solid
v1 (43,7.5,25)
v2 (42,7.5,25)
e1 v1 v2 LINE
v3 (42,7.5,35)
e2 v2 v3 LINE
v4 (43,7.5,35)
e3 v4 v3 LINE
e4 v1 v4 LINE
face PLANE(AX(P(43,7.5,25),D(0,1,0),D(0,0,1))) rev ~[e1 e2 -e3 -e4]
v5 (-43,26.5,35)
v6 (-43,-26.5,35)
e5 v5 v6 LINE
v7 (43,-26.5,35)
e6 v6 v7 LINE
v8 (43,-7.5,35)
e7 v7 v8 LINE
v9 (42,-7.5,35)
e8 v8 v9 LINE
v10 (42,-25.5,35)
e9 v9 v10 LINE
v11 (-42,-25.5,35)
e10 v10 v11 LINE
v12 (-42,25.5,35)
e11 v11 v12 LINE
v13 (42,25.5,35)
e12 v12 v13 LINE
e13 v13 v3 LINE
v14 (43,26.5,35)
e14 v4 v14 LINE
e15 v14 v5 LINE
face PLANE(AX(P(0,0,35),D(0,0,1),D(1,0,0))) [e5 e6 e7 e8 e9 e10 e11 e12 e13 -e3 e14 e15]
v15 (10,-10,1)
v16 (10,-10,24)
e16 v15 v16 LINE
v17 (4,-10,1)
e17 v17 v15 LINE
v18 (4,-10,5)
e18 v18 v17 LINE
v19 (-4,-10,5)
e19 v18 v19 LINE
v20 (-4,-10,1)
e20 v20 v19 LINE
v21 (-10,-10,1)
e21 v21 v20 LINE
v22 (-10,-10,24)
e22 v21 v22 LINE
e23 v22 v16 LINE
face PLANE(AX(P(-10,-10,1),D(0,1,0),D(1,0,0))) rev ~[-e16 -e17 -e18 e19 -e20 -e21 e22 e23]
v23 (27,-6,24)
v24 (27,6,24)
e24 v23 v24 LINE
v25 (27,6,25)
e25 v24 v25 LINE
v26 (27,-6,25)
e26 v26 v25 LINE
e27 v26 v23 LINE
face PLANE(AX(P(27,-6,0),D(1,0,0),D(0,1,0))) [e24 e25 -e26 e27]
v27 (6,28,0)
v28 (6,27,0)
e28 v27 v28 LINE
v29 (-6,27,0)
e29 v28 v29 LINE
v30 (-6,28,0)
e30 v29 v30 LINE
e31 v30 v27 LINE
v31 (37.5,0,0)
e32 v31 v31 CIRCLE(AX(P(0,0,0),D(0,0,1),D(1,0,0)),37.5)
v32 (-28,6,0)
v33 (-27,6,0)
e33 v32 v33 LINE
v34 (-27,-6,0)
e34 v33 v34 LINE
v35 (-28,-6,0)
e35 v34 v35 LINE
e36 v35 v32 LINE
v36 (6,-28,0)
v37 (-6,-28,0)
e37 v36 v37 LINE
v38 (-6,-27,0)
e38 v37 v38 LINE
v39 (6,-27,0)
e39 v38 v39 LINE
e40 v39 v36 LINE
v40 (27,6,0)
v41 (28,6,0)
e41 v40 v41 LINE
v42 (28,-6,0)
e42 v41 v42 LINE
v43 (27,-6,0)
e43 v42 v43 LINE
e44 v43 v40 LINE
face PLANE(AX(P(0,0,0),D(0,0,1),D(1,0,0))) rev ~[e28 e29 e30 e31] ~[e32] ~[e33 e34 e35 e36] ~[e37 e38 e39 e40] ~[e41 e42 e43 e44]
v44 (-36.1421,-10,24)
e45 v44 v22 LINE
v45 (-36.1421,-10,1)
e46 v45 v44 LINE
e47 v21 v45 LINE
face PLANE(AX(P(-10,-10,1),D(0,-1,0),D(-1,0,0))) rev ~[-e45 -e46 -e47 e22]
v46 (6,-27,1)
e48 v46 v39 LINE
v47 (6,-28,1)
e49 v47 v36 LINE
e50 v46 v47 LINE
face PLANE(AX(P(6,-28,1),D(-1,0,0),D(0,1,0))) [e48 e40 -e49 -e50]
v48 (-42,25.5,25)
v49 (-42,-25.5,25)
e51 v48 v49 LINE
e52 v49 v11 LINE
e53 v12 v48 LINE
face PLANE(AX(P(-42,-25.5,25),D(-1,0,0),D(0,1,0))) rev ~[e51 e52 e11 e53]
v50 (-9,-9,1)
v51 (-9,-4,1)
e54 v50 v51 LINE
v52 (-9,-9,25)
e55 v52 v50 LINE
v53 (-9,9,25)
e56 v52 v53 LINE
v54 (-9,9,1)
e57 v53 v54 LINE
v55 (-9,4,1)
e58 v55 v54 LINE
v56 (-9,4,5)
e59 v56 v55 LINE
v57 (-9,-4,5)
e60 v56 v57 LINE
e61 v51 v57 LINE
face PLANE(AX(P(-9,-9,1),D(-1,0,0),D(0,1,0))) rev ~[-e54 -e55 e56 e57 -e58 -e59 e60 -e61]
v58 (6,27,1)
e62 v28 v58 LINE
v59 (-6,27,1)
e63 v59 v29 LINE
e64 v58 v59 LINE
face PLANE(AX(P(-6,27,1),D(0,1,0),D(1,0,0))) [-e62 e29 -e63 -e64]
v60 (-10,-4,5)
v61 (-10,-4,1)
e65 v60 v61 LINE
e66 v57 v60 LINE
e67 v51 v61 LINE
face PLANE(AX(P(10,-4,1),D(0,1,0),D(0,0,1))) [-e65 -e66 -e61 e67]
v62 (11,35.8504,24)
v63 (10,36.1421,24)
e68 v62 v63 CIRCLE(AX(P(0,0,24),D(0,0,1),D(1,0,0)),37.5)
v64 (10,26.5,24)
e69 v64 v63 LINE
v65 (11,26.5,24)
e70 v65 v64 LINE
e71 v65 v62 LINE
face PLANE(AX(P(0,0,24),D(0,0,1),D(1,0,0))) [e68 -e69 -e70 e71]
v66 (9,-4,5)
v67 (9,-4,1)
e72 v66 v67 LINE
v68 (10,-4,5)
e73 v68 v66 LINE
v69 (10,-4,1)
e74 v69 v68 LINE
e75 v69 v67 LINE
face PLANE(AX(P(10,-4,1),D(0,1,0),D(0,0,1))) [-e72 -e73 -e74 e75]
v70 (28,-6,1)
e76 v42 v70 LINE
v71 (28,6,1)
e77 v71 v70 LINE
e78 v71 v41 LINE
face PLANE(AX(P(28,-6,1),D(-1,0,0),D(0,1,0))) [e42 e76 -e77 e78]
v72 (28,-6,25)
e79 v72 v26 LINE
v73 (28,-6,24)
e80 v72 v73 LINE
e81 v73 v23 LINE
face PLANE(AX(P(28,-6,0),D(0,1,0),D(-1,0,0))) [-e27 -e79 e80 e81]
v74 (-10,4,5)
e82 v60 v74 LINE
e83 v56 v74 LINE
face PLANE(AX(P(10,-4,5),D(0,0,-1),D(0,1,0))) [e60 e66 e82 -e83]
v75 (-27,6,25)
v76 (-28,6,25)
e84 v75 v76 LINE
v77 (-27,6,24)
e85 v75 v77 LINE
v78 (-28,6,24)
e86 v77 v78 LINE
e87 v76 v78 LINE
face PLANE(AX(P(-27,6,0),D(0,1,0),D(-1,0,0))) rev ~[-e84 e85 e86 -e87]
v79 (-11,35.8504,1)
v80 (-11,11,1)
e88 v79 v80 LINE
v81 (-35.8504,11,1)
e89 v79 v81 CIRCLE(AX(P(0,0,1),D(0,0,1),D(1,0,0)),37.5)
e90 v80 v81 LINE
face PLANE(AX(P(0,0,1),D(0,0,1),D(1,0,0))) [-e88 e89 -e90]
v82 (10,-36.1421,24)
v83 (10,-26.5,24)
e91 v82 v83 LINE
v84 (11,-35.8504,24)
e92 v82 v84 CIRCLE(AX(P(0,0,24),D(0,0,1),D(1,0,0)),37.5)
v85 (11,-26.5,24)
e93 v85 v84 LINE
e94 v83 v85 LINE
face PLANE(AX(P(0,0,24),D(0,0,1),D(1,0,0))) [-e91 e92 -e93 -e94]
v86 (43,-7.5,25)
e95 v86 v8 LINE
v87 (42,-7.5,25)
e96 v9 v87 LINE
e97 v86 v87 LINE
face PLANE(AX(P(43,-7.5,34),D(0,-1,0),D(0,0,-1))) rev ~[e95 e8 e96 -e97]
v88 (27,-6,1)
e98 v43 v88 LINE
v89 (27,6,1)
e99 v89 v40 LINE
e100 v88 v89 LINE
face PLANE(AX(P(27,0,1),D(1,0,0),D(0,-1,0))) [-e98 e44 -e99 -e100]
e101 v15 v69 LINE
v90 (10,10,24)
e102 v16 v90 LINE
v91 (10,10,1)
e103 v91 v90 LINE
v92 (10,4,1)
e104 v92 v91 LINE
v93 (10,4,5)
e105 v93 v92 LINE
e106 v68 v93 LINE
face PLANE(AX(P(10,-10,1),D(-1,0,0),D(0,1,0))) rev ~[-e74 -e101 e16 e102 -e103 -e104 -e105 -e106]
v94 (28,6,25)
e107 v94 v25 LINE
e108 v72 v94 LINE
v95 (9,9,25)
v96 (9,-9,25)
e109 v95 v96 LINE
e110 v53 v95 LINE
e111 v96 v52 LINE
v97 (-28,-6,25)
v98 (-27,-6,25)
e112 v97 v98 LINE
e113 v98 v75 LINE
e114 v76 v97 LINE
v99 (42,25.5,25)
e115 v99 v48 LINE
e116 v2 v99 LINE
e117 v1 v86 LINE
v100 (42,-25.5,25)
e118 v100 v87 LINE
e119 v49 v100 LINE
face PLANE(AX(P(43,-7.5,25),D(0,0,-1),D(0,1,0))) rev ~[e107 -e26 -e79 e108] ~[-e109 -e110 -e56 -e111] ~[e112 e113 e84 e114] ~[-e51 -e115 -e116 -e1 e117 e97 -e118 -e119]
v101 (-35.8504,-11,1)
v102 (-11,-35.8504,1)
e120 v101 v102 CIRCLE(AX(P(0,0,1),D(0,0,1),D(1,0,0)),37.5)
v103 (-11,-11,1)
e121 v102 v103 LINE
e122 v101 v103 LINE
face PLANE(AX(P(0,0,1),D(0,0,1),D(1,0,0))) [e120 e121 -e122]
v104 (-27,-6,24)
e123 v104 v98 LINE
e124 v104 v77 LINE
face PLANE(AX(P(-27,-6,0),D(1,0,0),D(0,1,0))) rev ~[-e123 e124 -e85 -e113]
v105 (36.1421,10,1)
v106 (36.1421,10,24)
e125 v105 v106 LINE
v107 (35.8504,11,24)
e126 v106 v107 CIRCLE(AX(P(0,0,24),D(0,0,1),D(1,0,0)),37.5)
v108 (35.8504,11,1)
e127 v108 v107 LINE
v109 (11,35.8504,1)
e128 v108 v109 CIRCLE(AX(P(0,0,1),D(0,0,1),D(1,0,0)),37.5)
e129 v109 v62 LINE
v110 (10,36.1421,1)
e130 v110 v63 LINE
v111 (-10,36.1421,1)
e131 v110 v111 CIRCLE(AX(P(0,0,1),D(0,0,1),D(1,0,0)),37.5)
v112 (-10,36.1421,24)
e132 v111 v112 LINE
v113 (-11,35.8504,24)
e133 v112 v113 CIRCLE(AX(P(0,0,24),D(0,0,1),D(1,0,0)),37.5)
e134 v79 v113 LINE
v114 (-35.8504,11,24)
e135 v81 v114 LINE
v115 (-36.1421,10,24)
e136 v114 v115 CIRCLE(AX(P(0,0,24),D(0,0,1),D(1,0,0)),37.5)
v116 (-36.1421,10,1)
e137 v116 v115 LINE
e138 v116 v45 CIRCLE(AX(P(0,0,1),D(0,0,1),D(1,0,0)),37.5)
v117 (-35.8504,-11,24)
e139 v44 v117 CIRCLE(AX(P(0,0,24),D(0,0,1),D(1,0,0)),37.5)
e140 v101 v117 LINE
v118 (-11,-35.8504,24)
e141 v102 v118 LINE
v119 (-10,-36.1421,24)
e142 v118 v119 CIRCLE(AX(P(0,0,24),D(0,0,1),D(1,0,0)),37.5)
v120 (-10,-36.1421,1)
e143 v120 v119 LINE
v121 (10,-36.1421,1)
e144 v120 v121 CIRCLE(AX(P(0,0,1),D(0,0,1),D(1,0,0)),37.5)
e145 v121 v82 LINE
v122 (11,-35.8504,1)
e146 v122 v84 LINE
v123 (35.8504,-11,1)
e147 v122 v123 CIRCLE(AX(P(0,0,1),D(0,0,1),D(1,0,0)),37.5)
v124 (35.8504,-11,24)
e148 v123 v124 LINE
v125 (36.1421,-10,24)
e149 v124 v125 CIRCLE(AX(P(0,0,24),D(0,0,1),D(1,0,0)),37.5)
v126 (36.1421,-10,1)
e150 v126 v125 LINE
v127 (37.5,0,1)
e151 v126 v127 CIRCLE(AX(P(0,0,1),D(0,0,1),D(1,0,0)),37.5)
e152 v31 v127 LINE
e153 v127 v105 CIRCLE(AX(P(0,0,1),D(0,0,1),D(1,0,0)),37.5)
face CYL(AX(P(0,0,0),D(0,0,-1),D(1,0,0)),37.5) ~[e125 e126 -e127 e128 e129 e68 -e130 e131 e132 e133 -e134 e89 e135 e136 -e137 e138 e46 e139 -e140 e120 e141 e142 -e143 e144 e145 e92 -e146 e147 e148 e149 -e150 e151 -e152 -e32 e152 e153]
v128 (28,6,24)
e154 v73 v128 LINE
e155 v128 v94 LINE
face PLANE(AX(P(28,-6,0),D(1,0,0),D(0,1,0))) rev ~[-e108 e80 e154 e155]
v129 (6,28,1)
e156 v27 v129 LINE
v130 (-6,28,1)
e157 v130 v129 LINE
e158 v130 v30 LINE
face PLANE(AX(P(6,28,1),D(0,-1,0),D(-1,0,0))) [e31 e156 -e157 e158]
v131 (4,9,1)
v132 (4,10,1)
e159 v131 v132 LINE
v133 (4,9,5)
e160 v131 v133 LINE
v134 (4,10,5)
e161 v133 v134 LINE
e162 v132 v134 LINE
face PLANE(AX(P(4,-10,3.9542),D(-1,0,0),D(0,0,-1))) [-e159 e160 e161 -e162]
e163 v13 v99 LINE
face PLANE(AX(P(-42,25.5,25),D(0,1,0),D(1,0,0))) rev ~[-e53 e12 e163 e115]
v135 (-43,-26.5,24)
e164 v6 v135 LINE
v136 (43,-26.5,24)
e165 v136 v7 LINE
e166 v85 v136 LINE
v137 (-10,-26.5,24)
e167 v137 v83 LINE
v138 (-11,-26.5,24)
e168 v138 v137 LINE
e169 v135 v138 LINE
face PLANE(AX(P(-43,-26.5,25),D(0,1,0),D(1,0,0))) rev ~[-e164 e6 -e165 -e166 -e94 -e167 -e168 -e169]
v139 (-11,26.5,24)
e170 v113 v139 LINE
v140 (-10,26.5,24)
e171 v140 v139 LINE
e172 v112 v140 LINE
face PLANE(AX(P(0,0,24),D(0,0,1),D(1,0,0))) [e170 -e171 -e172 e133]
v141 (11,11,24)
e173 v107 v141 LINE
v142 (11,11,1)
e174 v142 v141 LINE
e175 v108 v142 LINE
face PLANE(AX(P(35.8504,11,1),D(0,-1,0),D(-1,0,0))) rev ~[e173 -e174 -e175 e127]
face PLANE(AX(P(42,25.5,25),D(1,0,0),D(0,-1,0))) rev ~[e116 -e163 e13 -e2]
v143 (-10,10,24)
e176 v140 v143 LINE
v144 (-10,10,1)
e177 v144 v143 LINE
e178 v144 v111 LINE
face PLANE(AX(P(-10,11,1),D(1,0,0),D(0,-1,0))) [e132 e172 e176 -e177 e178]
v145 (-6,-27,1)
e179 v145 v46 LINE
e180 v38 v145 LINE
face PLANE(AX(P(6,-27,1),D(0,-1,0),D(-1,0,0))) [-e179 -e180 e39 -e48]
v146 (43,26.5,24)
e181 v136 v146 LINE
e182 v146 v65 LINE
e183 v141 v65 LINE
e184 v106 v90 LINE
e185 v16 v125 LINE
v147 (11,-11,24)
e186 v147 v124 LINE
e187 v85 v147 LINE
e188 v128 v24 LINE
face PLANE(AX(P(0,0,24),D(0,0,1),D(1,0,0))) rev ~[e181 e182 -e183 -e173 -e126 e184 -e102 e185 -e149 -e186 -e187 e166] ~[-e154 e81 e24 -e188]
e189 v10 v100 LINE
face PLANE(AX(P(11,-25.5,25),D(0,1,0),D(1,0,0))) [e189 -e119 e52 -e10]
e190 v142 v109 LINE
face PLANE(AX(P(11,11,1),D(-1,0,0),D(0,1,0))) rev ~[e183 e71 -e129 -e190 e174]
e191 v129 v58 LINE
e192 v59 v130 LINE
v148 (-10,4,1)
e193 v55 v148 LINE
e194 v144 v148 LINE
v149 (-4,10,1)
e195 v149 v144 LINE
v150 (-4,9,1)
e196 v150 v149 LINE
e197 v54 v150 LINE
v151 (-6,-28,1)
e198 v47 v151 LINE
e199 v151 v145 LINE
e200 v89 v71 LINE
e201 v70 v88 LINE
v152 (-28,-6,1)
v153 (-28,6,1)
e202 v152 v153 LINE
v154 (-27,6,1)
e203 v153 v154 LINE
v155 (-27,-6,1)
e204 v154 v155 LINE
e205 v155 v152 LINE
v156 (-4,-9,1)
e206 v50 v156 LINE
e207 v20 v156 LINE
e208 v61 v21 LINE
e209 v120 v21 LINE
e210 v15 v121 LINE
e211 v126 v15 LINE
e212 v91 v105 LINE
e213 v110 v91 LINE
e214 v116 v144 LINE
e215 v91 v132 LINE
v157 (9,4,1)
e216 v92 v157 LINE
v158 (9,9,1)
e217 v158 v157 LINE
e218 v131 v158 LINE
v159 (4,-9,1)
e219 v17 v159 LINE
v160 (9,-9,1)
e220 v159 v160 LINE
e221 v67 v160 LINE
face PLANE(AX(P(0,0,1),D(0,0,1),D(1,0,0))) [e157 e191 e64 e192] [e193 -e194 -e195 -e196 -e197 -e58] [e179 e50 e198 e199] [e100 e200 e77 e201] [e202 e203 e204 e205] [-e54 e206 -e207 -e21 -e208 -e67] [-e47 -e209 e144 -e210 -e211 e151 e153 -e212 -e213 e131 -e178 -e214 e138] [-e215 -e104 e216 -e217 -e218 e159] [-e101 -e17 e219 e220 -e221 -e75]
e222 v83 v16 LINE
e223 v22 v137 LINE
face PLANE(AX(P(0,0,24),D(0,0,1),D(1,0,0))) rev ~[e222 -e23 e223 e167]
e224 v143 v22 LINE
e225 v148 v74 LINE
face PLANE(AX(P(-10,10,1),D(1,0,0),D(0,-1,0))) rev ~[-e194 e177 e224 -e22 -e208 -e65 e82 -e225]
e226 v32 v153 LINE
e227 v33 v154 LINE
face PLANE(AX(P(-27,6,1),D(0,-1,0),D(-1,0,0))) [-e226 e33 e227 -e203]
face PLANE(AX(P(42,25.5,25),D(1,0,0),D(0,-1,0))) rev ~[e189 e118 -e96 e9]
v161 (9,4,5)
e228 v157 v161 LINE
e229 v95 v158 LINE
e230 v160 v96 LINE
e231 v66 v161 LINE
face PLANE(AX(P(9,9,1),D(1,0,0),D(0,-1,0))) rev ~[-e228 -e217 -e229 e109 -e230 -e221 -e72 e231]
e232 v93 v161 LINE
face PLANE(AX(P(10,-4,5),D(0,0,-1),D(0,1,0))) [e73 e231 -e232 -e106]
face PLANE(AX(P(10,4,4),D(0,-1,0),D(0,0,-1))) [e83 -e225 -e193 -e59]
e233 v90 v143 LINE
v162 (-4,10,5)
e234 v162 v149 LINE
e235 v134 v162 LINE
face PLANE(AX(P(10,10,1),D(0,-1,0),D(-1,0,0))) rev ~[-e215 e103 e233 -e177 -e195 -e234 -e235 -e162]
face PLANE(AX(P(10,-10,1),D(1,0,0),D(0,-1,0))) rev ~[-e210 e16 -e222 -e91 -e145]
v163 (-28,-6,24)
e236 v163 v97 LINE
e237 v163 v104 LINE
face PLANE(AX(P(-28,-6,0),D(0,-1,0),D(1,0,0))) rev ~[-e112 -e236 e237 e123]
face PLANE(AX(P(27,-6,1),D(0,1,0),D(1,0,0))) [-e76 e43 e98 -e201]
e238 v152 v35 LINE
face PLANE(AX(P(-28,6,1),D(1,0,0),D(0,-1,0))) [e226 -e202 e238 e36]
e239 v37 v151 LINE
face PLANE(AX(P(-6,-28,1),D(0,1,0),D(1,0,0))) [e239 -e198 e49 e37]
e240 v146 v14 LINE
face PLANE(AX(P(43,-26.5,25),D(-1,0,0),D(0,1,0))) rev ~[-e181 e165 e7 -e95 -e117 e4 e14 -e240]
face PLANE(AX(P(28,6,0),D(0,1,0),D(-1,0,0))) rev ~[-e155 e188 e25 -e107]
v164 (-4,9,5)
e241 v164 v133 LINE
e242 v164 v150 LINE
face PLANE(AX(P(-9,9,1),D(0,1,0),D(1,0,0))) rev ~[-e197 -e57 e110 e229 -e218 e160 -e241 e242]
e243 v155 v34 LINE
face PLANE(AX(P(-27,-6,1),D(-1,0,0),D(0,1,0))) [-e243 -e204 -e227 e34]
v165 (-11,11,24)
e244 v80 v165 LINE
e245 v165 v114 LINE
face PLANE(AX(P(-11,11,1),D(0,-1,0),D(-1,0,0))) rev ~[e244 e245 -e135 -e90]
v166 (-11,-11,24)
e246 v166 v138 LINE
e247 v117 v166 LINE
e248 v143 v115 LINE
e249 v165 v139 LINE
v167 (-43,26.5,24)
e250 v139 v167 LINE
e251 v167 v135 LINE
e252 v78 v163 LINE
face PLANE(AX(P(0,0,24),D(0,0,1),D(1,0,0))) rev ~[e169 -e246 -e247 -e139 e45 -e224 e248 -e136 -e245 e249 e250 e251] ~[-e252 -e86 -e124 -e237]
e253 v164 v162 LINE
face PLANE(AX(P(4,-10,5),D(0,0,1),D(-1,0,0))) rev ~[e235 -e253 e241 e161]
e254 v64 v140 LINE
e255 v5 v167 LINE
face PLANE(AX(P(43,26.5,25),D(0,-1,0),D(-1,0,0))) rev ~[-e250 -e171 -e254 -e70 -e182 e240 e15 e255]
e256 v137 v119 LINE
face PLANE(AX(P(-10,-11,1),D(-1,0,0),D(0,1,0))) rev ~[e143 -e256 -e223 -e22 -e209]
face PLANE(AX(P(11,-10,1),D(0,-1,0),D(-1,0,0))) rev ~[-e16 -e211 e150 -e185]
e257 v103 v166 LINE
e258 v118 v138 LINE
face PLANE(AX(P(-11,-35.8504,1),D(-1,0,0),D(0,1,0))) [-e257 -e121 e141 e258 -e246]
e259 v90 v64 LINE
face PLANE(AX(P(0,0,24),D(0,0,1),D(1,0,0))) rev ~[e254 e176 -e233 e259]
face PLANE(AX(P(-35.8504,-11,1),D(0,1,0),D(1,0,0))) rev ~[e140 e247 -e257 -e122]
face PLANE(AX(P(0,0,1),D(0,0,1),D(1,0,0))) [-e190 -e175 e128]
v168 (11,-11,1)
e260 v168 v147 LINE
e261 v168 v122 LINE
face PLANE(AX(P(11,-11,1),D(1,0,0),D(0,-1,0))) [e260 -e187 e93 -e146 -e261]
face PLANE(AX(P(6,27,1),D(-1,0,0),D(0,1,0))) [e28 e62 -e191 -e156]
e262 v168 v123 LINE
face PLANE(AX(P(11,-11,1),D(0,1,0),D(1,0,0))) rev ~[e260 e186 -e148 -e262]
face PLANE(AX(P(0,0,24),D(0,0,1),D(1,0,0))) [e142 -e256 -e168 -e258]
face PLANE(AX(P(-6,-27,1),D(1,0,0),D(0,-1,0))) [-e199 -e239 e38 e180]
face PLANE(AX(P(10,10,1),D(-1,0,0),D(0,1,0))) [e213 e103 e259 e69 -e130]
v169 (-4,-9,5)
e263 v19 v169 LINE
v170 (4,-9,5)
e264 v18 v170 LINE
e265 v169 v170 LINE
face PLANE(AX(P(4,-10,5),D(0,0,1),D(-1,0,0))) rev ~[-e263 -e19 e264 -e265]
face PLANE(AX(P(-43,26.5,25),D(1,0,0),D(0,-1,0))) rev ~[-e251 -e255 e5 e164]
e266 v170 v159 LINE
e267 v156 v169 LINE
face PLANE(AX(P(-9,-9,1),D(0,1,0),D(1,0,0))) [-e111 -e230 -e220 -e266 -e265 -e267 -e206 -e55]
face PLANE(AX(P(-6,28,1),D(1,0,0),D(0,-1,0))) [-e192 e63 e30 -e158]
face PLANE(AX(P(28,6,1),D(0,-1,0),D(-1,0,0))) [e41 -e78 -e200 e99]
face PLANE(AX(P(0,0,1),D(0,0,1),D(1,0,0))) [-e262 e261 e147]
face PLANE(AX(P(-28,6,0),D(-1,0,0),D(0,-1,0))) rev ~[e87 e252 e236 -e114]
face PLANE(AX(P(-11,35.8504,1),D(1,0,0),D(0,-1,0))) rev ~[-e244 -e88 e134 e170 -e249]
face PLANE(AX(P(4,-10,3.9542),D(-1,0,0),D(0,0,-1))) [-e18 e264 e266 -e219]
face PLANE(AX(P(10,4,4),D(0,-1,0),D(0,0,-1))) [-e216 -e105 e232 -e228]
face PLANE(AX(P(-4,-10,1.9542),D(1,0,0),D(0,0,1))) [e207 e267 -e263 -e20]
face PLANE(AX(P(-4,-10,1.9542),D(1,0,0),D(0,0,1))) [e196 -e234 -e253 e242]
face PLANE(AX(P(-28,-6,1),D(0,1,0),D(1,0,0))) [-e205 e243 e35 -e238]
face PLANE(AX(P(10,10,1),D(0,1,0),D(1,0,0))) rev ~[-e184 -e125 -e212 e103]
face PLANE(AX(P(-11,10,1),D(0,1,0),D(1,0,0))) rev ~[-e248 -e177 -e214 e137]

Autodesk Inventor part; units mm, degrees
ref_plane "YZ Plane" through (0, 0, 0) normal (1, 0, 0) x (0, 1, 0)
ref_plane "XZ Plane" through (0, 0, 0) normal (0, 1, 0) x (-1, 0, 0)
ref_plane "XY Plane" through (0, 0, 0) normal (0, 0, 1) x (1, 0, 0)
sketch "Sketch1" plane through (0, 0, 0) normal (0, 0, 1) x (1, 0, 0)
  circle A0 centre (0, 0) radius 37.5
  dimension "d0" = 75
extrude "Extrusion1" add sketch "Sketch1" along normal blind 1
sketch "Sketch2" plane through (0, 0, 1) normal (0, 0, 1) x (1, 0, 0)
  line L0 (-10, -10) -> (10, -10)
  line L1 (10, -10) -> (10, 10)
  line L2 (10, 10) -> (-10, 10)
  line L3 (-10, 10) -> (-10, -10)
  line L4 (-10, 10) -> (10, 10)
  line L5 (10, 10) -> (10, 36.1421)
  line L6 (-10, 36.1421) -> (-10, 10)
  line L7 (10, 10) -> (36.1421, 10)
  line L8 (36.1421, -10) -> (10, -10)
  line L9 (10, -10) -> (10, 10)
  line L10 (-10, -10) -> (10, -10)
  line L11 (10, -10) -> (10, -36.1421)
  line L12 (-10, -36.1421) -> (-10, -10)
  line L13 (-10, -10) -> (-36.1421, -10)
  line L14 (-36.1421, 10) -> (-10, 10)
  line L15 (-10, 10) -> (-10, -10)
  line L16 (35.8504, 11) -> (10, 11)
  line L17 (9, 9) -> (9, -9)
  line L18 (10, -11) -> (35.8504, -11)
  line L19 (11, 10) -> (11, 35.8504)
  line L20 (-11, 35.8504) -> (-11, 10)
  line L21 (-10, 11) -> (-35.8504, 11)
  line L22 (-35.8504, -11) -> (-10, -11)
  line L23 (-9, -9) -> (-9, 9)
  line L24 (-9, -9) -> (9, -9)
  line L25 (11, -10) -> (11, -35.8504)
  line L26 (-11, -35.8504) -> (-11, -10)
  line L27 (-9, 9) -> (9, 9)
  line L28 (9, 9) -> (9, -9)
  line L29 (9, -9) -> (-9, -9)
  line L30 (10, -10) -> (9, -9) construction
  line L31 (-9, 9) -> (-10, 10) construction
  line L32 (-10, -10) -> (-9, -9) construction
  line L33 (9, 9) -> (10, 10) construction
  circle A0 centre (0, 0) radius 37.5
  line L34 (-9, -49.0456) -> (-11, -49.0456)
  point P0 (-11, -11)
  point P1 (11, -11)
  point P2 (-11, 11)
  point P3 (11, 11)
  dimension "d3" = 20
  dimension "d4" = 20
  dimension "d5" = 1
  dimension "d6" = 1
  dimension "d7" = 1
  dimension "d8" = 1
  dimension "d9" = 1
extrude "Extrusion2" add sketch "Sketch2" along normal blind 23 contours L3 L2 L1 L0 | L12 L22 L26 L13 | L8 L25 L18 L11 | L14 L20 L21 L6 | L12 A0 L26 L22 | L26 L22 A0 L13 | L5 L16 L19 L7 | L8 A0 L18 L25 | L18 L25 A0 L11 | L21 L20 A0 L6 | L14 A0 L21 L20 | L5 A0 L19 L16 | L19 L16 A0 L7
sketch "Sketch5" plane through (0, 0, 1) normal (0, 0, 1) x (1, 0, 0)
  line L0 (10, -10) -> (10, 10) projected
  line L1 (36.1421, -10) -> (10, -10) projected
  line L2 (10, 10) -> (27, 10)
  line L3 (27, 10) -> (27, -10)
  line L4 (27, -10) -> (10, -10)
  line L5 (10, -10) -> (10, 10)
  line L6 (27, 0) -> (27.5, 0)
  line L7 (27, -6) -> (28, -6)
  line L8 (28, -6) -> (28, 6)
  line L9 (28, 6) -> (27, 6)
  line L10 (27, 6) -> (27, -6)
  line L11 (27, -6) -> (28, 6) construction
  line L12 (28, -6) -> (27, 6) construction
  line L13 (-10, 10) -> (-10, -10) projected
  line L14 (-10, 0) -> (-27.5, 0)
  line L15 (-28, -6) -> (-27, -6)
  line L16 (-27, -6) -> (-27, 6)
  line L17 (-27, 6) -> (-28, 6)
  line L18 (-28, 6) -> (-28, -6)
  line L19 (-28, -6) -> (-27, 6) construction
  line L20 (-27, -6) -> (-28, 6) construction
  line L21 (10, -10) -> (-10, -10) projected
  line L22 (0, -10) -> (0, -27.5)
  line L23 (-6, -28) -> (6, -28)
  line L24 (6, -28) -> (6, -27)
  line L25 (6, -27) -> (-6, -27)
  line L26 (-6, -27) -> (-6, -28)
  line L27 (-6, -28) -> (6, -27) construction
  line L28 (6, -28) -> (-6, -27) construction
  line L29 (10, 10) -> (-10, 10) projected
  line L30 (0, 10) -> (0, 27.5)
  line L31 (-6, 27) -> (6, 27)
  line L32 (6, 27) -> (6, 28)
  line L33 (6, 28) -> (-6, 28)
  line L34 (-6, 28) -> (-6, 27)
  line L35 (-6, 27) -> (6, 28) construction
  line L36 (6, 27) -> (-6, 28) construction
  point P0 (0, 0)
  dimension "d21" = 17
  dimension "d22" = 0.5
  dimension "d23" = 1
  dimension "d24" = 12
  dimension "d25" = 17.5
  dimension "d26" = 1
  dimension "d27" = 12
  dimension "d28" = 17.5
  dimension "d29" = 12
  dimension "d30" = 1
  dimension "d31" = 17.5
  dimension "d32" = 12
  dimension "d33" = 1
extrude "Extrusion5" cut sketch "Sketch5" along normal blind 93 and the other way blind 11.5 contours L25 L24 L23 L26 | L16 L15 L18 L17 | L31 L34 L33 L32 | L3 L9 L8 L7
sketch "Sketch6" plane through (10, -10, 1) normal (1, 0, 0) x (0, 0, -1)
  line L0 (-7.5, 9) -> (-7.5, 11) projected
  line L1 (-7.5, 10) -> (0, 10)
  line L2 (0, 20) -> (0, 0) projected
  line L3 (0, 10) -> (-2, 10)
  line L4 (-3, 14) -> (-1, 14)
  line L5 (-1, 14) -> (-1, 6)
  line L6 (-1, 6) -> (-3, 6)
  line L7 (-3, 6) -> (-3, 14)
  line L8 (-3, 14) -> (-1, 6) construction
  line L9 (-1, 14) -> (-3, 6) construction
  point P0 (1, 10)
  dimension "d36" = 2
  dimension "d37" = 2
  dimension "d38" = 8
extrude "Extrusion6" cut sketch "Sketch6" against normal blind 23
sketch "Sketch7" plane through (-10, -10, 1) normal (0, -1, 0) x (1, 0, 0)
  line L0 (11, 7.5) -> (9, 7.5) projected
  line L1 (10, 7.5) -> (10, -0.0458)
  line L2 (10, -0.0458) -> (10, 1.9542)
  line L3 (6, 2.9542) -> (14, 2.9542)
  line L4 (14, 2.9542) -> (14, 0.9542)
  line L5 (14, 0.9542) -> (6, 0.9542)
  line L6 (6, 0.9542) -> (6, 2.9542)
  line L7 (6, 2.9542) -> (14, 0.9542) construction
  line L8 (14, 2.9542) -> (6, 0.9542) construction
  point P0 (10, -1)
  dimension "d41" = 2
  dimension "d42" = 8
extrude "Extrusion7" cut sketch "Sketch7" against normal blind 23
sketch "Sketch8" plane through (-10, -10, 1) normal (0, -1, 0) x (1, 0, 0)
  line L0 (6, 0.9542) -> (6, 2.9542) projected
  line L1 (4, 0) -> (16, 0) projected
  line L2 (6, 2.9542) -> (14, 2.9542)
  line L3 (14, 2.9542) -> (14, 0)
  line L4 (14, 0) -> (6, 0)
  line L5 (6, 0) -> (6, 2.9542)
  line L6 (6, 0) -> (14, 0)
  line L7 (14, 0) -> (14, 4)
  line L8 (14, 4) -> (6, 4)
  line L9 (6, 4) -> (6, 0)
  point P0 (10, -1)
  dimension "d45" = 8
  dimension "d46" = 8
  dimension "d47" = 4
extrude "Extrusion8" cut sketch "Sketch8" against normal blind 23
sketch "Sketch9" plane through (10, -10, 1) normal (1, 0, 0) x (0, 0, -1)
  line L0 (-3, 14) -> (-3, 6) projected
  line L1 (-3, 14) -> (0, 14)
  line L2 (0, 14) -> (0, 6)
  line L3 (0, 6) -> (-3, 6)
  line L4 (-3, 6) -> (-3, 14)
  line L5 (0, 6) -> (-4, 6)
  line L6 (-4, 6) -> (-4, 14)
  line L7 (-4, 14) -> (0, 14)
  line L8 (0, 14) -> (0, 6)
  point P0 (1, 10)
  dimension "d50" = 3
  dimension "d51" = 8
  dimension "d52" = 4
extrude "Extrusion9" cut sketch "Sketch9" against normal blind 23
sketch "Sketch10" plane through (0, 0, 24) normal (0, 0, 1) x (1, 0, 0)
  line L0 (42, 25.5) -> (-42, 25.5)
  line L1 (-42, 25.5) -> (-42, -25.5)
  line L2 (-42, -25.5) -> (42, -25.5)
  line L3 (42, -25.5) -> (42, 25.5)
  line L4 (42, 25.5) -> (-42, -25.5) construction
  line L5 (-42, 25.5) -> (42, -25.5) construction
  point P0 (0, 0)
  dimension "d55" = 84
  dimension "d56" = 51
extrude "Extrusion10" add sketch "Sketch10" along normal blind 1
sketch "Sketch11" plane through (0, 0, 25) normal (0, 0, 1) x (1, 0, 0)
  line L0 (11, -25.5) -> (42, -25.5) projected
  line L1 (-42, 25.5) -> (42, 25.5)
  line L2 (42, 25.5) -> (42, -25.5)
  line L3 (42, -25.5) -> (-42, -25.5)
  line L4 (-42, -25.5) -> (-42, 25.5)
  line L5 (-42, 25.5) -> (42, -25.5) construction
  line L6 (42, 25.5) -> (-42, -25.5) construction
  line L7 (43, -26.5) -> (43, 26.5)
  line L8 (43, 26.5) -> (-43, 26.5)
  line L9 (-43, 26.5) -> (-43, -26.5)
  line L10 (-43, -26.5) -> (43, -26.5)
  point P0 (0, 0)
  dimension "d59" = 1
extrude "Extrusion11" add sketch "Sketch11" along normal blind 10 and the other way blind 1
sketch "Sketch12" plane through (0, 0, 25) normal (0, 0, 1) x (1, 0, 0)
  line L0 (9, -9) -> (-9, -9)
  line L1 (-9, -9) -> (-9, 9)
  line L2 (-9, 9) -> (9, 9)
  line L3 (9, 9) -> (9, -9)
  line L4 (9, -9) -> (-9, 9) construction
  line L5 (-9, -9) -> (9, 9) construction
  point P0 (0, 0)
  dimension "d64" = 18
  dimension "d65" = 18
extrude "Extrusion12" cut sketch "Sketch12" against normal blind 10
sketch "Sketch13" plane through (0, 0, 0) normal (0, 0, -1) x (-1, 0, 0)
  line L0 (-6, 27) -> (6, 27) projected
  line L1 (6, 27) -> (6, 28) projected
  line L2 (-6, 27) -> (6, 27)
  line L3 (6, 27) -> (6, 28)
  line L4 (6, 28) -> (-6, 28)
  line L5 (-6, 28) -> (-6, 27)
  line L6 (-28, -6) -> (-28, 6) projected
  line L7 (-28, 6) -> (-27, 6) projected
  line L8 (-28, -6) -> (-27, -6)
  line L9 (-27, -6) -> (-27, 6)
  line L10 (-27, 6) -> (-28, 6)
  line L11 (-28, 6) -> (-28, -6)
  line L12 (6, -28) -> (6, -27) projected
  line L13 (6, -28) -> (-6, -28)
  line L14 (-6, -28) -> (-6, -27)
  line L15 (-6, -27) -> (6, -27)
  line L16 (6, -27) -> (6, -28)
  line L17 (28, 6) -> (28, -6) projected
  line L18 (27, 6) -> (28, 6) projected
  line L19 (28, -6) -> (27, -6)
  line L20 (27, -6) -> (27, 6)
  line L21 (27, 6) -> (28, 6)
  line L22 (28, 6) -> (28, -6)
  point P0 (0, 0)
extrude "Extrusion13" cut sketch "Sketch13" along normal mid plane 93
sketch "Sketch14" plane through (43, -26.5, 35) normal (1, 0, 0) x (0, 0, -1)
  line L0 (11, 16.5) -> (11, 36.5) projected
  line L1 (11, 26.5) -> (0, 26.5)
  line L2 (0, 0) -> (0, 53) projected
  line L3 (21, 34) -> (1, 34)
  line L4 (1, 34) -> (1, 19)
  line L5 (1, 19) -> (21, 19)
  line L6 (21, 19) -> (21, 34)
  line L7 (21, 34) -> (1, 19) construction
  line L8 (1, 34) -> (21, 19) construction
  line L9 (0, 19) -> (10, 19)
  line L10 (10, 19) -> (10, 34)
  line L11 (10, 34) -> (0, 34)
  line L12 (0, 34) -> (0, 19)
  point P0 (35, 26.5)
  dimension "d72" = 20
  dimension "d73" = 15
  dimension "d74" = 10
extrude "Extrusion14" cut sketch "Sketch14" against normal blind 3 contours L5 L4 L1 L10 | L1 L4 L3 L10 | L9 L2 L1 L4 | L1 L2 L11 L4
properties part number "_3DPrint"
